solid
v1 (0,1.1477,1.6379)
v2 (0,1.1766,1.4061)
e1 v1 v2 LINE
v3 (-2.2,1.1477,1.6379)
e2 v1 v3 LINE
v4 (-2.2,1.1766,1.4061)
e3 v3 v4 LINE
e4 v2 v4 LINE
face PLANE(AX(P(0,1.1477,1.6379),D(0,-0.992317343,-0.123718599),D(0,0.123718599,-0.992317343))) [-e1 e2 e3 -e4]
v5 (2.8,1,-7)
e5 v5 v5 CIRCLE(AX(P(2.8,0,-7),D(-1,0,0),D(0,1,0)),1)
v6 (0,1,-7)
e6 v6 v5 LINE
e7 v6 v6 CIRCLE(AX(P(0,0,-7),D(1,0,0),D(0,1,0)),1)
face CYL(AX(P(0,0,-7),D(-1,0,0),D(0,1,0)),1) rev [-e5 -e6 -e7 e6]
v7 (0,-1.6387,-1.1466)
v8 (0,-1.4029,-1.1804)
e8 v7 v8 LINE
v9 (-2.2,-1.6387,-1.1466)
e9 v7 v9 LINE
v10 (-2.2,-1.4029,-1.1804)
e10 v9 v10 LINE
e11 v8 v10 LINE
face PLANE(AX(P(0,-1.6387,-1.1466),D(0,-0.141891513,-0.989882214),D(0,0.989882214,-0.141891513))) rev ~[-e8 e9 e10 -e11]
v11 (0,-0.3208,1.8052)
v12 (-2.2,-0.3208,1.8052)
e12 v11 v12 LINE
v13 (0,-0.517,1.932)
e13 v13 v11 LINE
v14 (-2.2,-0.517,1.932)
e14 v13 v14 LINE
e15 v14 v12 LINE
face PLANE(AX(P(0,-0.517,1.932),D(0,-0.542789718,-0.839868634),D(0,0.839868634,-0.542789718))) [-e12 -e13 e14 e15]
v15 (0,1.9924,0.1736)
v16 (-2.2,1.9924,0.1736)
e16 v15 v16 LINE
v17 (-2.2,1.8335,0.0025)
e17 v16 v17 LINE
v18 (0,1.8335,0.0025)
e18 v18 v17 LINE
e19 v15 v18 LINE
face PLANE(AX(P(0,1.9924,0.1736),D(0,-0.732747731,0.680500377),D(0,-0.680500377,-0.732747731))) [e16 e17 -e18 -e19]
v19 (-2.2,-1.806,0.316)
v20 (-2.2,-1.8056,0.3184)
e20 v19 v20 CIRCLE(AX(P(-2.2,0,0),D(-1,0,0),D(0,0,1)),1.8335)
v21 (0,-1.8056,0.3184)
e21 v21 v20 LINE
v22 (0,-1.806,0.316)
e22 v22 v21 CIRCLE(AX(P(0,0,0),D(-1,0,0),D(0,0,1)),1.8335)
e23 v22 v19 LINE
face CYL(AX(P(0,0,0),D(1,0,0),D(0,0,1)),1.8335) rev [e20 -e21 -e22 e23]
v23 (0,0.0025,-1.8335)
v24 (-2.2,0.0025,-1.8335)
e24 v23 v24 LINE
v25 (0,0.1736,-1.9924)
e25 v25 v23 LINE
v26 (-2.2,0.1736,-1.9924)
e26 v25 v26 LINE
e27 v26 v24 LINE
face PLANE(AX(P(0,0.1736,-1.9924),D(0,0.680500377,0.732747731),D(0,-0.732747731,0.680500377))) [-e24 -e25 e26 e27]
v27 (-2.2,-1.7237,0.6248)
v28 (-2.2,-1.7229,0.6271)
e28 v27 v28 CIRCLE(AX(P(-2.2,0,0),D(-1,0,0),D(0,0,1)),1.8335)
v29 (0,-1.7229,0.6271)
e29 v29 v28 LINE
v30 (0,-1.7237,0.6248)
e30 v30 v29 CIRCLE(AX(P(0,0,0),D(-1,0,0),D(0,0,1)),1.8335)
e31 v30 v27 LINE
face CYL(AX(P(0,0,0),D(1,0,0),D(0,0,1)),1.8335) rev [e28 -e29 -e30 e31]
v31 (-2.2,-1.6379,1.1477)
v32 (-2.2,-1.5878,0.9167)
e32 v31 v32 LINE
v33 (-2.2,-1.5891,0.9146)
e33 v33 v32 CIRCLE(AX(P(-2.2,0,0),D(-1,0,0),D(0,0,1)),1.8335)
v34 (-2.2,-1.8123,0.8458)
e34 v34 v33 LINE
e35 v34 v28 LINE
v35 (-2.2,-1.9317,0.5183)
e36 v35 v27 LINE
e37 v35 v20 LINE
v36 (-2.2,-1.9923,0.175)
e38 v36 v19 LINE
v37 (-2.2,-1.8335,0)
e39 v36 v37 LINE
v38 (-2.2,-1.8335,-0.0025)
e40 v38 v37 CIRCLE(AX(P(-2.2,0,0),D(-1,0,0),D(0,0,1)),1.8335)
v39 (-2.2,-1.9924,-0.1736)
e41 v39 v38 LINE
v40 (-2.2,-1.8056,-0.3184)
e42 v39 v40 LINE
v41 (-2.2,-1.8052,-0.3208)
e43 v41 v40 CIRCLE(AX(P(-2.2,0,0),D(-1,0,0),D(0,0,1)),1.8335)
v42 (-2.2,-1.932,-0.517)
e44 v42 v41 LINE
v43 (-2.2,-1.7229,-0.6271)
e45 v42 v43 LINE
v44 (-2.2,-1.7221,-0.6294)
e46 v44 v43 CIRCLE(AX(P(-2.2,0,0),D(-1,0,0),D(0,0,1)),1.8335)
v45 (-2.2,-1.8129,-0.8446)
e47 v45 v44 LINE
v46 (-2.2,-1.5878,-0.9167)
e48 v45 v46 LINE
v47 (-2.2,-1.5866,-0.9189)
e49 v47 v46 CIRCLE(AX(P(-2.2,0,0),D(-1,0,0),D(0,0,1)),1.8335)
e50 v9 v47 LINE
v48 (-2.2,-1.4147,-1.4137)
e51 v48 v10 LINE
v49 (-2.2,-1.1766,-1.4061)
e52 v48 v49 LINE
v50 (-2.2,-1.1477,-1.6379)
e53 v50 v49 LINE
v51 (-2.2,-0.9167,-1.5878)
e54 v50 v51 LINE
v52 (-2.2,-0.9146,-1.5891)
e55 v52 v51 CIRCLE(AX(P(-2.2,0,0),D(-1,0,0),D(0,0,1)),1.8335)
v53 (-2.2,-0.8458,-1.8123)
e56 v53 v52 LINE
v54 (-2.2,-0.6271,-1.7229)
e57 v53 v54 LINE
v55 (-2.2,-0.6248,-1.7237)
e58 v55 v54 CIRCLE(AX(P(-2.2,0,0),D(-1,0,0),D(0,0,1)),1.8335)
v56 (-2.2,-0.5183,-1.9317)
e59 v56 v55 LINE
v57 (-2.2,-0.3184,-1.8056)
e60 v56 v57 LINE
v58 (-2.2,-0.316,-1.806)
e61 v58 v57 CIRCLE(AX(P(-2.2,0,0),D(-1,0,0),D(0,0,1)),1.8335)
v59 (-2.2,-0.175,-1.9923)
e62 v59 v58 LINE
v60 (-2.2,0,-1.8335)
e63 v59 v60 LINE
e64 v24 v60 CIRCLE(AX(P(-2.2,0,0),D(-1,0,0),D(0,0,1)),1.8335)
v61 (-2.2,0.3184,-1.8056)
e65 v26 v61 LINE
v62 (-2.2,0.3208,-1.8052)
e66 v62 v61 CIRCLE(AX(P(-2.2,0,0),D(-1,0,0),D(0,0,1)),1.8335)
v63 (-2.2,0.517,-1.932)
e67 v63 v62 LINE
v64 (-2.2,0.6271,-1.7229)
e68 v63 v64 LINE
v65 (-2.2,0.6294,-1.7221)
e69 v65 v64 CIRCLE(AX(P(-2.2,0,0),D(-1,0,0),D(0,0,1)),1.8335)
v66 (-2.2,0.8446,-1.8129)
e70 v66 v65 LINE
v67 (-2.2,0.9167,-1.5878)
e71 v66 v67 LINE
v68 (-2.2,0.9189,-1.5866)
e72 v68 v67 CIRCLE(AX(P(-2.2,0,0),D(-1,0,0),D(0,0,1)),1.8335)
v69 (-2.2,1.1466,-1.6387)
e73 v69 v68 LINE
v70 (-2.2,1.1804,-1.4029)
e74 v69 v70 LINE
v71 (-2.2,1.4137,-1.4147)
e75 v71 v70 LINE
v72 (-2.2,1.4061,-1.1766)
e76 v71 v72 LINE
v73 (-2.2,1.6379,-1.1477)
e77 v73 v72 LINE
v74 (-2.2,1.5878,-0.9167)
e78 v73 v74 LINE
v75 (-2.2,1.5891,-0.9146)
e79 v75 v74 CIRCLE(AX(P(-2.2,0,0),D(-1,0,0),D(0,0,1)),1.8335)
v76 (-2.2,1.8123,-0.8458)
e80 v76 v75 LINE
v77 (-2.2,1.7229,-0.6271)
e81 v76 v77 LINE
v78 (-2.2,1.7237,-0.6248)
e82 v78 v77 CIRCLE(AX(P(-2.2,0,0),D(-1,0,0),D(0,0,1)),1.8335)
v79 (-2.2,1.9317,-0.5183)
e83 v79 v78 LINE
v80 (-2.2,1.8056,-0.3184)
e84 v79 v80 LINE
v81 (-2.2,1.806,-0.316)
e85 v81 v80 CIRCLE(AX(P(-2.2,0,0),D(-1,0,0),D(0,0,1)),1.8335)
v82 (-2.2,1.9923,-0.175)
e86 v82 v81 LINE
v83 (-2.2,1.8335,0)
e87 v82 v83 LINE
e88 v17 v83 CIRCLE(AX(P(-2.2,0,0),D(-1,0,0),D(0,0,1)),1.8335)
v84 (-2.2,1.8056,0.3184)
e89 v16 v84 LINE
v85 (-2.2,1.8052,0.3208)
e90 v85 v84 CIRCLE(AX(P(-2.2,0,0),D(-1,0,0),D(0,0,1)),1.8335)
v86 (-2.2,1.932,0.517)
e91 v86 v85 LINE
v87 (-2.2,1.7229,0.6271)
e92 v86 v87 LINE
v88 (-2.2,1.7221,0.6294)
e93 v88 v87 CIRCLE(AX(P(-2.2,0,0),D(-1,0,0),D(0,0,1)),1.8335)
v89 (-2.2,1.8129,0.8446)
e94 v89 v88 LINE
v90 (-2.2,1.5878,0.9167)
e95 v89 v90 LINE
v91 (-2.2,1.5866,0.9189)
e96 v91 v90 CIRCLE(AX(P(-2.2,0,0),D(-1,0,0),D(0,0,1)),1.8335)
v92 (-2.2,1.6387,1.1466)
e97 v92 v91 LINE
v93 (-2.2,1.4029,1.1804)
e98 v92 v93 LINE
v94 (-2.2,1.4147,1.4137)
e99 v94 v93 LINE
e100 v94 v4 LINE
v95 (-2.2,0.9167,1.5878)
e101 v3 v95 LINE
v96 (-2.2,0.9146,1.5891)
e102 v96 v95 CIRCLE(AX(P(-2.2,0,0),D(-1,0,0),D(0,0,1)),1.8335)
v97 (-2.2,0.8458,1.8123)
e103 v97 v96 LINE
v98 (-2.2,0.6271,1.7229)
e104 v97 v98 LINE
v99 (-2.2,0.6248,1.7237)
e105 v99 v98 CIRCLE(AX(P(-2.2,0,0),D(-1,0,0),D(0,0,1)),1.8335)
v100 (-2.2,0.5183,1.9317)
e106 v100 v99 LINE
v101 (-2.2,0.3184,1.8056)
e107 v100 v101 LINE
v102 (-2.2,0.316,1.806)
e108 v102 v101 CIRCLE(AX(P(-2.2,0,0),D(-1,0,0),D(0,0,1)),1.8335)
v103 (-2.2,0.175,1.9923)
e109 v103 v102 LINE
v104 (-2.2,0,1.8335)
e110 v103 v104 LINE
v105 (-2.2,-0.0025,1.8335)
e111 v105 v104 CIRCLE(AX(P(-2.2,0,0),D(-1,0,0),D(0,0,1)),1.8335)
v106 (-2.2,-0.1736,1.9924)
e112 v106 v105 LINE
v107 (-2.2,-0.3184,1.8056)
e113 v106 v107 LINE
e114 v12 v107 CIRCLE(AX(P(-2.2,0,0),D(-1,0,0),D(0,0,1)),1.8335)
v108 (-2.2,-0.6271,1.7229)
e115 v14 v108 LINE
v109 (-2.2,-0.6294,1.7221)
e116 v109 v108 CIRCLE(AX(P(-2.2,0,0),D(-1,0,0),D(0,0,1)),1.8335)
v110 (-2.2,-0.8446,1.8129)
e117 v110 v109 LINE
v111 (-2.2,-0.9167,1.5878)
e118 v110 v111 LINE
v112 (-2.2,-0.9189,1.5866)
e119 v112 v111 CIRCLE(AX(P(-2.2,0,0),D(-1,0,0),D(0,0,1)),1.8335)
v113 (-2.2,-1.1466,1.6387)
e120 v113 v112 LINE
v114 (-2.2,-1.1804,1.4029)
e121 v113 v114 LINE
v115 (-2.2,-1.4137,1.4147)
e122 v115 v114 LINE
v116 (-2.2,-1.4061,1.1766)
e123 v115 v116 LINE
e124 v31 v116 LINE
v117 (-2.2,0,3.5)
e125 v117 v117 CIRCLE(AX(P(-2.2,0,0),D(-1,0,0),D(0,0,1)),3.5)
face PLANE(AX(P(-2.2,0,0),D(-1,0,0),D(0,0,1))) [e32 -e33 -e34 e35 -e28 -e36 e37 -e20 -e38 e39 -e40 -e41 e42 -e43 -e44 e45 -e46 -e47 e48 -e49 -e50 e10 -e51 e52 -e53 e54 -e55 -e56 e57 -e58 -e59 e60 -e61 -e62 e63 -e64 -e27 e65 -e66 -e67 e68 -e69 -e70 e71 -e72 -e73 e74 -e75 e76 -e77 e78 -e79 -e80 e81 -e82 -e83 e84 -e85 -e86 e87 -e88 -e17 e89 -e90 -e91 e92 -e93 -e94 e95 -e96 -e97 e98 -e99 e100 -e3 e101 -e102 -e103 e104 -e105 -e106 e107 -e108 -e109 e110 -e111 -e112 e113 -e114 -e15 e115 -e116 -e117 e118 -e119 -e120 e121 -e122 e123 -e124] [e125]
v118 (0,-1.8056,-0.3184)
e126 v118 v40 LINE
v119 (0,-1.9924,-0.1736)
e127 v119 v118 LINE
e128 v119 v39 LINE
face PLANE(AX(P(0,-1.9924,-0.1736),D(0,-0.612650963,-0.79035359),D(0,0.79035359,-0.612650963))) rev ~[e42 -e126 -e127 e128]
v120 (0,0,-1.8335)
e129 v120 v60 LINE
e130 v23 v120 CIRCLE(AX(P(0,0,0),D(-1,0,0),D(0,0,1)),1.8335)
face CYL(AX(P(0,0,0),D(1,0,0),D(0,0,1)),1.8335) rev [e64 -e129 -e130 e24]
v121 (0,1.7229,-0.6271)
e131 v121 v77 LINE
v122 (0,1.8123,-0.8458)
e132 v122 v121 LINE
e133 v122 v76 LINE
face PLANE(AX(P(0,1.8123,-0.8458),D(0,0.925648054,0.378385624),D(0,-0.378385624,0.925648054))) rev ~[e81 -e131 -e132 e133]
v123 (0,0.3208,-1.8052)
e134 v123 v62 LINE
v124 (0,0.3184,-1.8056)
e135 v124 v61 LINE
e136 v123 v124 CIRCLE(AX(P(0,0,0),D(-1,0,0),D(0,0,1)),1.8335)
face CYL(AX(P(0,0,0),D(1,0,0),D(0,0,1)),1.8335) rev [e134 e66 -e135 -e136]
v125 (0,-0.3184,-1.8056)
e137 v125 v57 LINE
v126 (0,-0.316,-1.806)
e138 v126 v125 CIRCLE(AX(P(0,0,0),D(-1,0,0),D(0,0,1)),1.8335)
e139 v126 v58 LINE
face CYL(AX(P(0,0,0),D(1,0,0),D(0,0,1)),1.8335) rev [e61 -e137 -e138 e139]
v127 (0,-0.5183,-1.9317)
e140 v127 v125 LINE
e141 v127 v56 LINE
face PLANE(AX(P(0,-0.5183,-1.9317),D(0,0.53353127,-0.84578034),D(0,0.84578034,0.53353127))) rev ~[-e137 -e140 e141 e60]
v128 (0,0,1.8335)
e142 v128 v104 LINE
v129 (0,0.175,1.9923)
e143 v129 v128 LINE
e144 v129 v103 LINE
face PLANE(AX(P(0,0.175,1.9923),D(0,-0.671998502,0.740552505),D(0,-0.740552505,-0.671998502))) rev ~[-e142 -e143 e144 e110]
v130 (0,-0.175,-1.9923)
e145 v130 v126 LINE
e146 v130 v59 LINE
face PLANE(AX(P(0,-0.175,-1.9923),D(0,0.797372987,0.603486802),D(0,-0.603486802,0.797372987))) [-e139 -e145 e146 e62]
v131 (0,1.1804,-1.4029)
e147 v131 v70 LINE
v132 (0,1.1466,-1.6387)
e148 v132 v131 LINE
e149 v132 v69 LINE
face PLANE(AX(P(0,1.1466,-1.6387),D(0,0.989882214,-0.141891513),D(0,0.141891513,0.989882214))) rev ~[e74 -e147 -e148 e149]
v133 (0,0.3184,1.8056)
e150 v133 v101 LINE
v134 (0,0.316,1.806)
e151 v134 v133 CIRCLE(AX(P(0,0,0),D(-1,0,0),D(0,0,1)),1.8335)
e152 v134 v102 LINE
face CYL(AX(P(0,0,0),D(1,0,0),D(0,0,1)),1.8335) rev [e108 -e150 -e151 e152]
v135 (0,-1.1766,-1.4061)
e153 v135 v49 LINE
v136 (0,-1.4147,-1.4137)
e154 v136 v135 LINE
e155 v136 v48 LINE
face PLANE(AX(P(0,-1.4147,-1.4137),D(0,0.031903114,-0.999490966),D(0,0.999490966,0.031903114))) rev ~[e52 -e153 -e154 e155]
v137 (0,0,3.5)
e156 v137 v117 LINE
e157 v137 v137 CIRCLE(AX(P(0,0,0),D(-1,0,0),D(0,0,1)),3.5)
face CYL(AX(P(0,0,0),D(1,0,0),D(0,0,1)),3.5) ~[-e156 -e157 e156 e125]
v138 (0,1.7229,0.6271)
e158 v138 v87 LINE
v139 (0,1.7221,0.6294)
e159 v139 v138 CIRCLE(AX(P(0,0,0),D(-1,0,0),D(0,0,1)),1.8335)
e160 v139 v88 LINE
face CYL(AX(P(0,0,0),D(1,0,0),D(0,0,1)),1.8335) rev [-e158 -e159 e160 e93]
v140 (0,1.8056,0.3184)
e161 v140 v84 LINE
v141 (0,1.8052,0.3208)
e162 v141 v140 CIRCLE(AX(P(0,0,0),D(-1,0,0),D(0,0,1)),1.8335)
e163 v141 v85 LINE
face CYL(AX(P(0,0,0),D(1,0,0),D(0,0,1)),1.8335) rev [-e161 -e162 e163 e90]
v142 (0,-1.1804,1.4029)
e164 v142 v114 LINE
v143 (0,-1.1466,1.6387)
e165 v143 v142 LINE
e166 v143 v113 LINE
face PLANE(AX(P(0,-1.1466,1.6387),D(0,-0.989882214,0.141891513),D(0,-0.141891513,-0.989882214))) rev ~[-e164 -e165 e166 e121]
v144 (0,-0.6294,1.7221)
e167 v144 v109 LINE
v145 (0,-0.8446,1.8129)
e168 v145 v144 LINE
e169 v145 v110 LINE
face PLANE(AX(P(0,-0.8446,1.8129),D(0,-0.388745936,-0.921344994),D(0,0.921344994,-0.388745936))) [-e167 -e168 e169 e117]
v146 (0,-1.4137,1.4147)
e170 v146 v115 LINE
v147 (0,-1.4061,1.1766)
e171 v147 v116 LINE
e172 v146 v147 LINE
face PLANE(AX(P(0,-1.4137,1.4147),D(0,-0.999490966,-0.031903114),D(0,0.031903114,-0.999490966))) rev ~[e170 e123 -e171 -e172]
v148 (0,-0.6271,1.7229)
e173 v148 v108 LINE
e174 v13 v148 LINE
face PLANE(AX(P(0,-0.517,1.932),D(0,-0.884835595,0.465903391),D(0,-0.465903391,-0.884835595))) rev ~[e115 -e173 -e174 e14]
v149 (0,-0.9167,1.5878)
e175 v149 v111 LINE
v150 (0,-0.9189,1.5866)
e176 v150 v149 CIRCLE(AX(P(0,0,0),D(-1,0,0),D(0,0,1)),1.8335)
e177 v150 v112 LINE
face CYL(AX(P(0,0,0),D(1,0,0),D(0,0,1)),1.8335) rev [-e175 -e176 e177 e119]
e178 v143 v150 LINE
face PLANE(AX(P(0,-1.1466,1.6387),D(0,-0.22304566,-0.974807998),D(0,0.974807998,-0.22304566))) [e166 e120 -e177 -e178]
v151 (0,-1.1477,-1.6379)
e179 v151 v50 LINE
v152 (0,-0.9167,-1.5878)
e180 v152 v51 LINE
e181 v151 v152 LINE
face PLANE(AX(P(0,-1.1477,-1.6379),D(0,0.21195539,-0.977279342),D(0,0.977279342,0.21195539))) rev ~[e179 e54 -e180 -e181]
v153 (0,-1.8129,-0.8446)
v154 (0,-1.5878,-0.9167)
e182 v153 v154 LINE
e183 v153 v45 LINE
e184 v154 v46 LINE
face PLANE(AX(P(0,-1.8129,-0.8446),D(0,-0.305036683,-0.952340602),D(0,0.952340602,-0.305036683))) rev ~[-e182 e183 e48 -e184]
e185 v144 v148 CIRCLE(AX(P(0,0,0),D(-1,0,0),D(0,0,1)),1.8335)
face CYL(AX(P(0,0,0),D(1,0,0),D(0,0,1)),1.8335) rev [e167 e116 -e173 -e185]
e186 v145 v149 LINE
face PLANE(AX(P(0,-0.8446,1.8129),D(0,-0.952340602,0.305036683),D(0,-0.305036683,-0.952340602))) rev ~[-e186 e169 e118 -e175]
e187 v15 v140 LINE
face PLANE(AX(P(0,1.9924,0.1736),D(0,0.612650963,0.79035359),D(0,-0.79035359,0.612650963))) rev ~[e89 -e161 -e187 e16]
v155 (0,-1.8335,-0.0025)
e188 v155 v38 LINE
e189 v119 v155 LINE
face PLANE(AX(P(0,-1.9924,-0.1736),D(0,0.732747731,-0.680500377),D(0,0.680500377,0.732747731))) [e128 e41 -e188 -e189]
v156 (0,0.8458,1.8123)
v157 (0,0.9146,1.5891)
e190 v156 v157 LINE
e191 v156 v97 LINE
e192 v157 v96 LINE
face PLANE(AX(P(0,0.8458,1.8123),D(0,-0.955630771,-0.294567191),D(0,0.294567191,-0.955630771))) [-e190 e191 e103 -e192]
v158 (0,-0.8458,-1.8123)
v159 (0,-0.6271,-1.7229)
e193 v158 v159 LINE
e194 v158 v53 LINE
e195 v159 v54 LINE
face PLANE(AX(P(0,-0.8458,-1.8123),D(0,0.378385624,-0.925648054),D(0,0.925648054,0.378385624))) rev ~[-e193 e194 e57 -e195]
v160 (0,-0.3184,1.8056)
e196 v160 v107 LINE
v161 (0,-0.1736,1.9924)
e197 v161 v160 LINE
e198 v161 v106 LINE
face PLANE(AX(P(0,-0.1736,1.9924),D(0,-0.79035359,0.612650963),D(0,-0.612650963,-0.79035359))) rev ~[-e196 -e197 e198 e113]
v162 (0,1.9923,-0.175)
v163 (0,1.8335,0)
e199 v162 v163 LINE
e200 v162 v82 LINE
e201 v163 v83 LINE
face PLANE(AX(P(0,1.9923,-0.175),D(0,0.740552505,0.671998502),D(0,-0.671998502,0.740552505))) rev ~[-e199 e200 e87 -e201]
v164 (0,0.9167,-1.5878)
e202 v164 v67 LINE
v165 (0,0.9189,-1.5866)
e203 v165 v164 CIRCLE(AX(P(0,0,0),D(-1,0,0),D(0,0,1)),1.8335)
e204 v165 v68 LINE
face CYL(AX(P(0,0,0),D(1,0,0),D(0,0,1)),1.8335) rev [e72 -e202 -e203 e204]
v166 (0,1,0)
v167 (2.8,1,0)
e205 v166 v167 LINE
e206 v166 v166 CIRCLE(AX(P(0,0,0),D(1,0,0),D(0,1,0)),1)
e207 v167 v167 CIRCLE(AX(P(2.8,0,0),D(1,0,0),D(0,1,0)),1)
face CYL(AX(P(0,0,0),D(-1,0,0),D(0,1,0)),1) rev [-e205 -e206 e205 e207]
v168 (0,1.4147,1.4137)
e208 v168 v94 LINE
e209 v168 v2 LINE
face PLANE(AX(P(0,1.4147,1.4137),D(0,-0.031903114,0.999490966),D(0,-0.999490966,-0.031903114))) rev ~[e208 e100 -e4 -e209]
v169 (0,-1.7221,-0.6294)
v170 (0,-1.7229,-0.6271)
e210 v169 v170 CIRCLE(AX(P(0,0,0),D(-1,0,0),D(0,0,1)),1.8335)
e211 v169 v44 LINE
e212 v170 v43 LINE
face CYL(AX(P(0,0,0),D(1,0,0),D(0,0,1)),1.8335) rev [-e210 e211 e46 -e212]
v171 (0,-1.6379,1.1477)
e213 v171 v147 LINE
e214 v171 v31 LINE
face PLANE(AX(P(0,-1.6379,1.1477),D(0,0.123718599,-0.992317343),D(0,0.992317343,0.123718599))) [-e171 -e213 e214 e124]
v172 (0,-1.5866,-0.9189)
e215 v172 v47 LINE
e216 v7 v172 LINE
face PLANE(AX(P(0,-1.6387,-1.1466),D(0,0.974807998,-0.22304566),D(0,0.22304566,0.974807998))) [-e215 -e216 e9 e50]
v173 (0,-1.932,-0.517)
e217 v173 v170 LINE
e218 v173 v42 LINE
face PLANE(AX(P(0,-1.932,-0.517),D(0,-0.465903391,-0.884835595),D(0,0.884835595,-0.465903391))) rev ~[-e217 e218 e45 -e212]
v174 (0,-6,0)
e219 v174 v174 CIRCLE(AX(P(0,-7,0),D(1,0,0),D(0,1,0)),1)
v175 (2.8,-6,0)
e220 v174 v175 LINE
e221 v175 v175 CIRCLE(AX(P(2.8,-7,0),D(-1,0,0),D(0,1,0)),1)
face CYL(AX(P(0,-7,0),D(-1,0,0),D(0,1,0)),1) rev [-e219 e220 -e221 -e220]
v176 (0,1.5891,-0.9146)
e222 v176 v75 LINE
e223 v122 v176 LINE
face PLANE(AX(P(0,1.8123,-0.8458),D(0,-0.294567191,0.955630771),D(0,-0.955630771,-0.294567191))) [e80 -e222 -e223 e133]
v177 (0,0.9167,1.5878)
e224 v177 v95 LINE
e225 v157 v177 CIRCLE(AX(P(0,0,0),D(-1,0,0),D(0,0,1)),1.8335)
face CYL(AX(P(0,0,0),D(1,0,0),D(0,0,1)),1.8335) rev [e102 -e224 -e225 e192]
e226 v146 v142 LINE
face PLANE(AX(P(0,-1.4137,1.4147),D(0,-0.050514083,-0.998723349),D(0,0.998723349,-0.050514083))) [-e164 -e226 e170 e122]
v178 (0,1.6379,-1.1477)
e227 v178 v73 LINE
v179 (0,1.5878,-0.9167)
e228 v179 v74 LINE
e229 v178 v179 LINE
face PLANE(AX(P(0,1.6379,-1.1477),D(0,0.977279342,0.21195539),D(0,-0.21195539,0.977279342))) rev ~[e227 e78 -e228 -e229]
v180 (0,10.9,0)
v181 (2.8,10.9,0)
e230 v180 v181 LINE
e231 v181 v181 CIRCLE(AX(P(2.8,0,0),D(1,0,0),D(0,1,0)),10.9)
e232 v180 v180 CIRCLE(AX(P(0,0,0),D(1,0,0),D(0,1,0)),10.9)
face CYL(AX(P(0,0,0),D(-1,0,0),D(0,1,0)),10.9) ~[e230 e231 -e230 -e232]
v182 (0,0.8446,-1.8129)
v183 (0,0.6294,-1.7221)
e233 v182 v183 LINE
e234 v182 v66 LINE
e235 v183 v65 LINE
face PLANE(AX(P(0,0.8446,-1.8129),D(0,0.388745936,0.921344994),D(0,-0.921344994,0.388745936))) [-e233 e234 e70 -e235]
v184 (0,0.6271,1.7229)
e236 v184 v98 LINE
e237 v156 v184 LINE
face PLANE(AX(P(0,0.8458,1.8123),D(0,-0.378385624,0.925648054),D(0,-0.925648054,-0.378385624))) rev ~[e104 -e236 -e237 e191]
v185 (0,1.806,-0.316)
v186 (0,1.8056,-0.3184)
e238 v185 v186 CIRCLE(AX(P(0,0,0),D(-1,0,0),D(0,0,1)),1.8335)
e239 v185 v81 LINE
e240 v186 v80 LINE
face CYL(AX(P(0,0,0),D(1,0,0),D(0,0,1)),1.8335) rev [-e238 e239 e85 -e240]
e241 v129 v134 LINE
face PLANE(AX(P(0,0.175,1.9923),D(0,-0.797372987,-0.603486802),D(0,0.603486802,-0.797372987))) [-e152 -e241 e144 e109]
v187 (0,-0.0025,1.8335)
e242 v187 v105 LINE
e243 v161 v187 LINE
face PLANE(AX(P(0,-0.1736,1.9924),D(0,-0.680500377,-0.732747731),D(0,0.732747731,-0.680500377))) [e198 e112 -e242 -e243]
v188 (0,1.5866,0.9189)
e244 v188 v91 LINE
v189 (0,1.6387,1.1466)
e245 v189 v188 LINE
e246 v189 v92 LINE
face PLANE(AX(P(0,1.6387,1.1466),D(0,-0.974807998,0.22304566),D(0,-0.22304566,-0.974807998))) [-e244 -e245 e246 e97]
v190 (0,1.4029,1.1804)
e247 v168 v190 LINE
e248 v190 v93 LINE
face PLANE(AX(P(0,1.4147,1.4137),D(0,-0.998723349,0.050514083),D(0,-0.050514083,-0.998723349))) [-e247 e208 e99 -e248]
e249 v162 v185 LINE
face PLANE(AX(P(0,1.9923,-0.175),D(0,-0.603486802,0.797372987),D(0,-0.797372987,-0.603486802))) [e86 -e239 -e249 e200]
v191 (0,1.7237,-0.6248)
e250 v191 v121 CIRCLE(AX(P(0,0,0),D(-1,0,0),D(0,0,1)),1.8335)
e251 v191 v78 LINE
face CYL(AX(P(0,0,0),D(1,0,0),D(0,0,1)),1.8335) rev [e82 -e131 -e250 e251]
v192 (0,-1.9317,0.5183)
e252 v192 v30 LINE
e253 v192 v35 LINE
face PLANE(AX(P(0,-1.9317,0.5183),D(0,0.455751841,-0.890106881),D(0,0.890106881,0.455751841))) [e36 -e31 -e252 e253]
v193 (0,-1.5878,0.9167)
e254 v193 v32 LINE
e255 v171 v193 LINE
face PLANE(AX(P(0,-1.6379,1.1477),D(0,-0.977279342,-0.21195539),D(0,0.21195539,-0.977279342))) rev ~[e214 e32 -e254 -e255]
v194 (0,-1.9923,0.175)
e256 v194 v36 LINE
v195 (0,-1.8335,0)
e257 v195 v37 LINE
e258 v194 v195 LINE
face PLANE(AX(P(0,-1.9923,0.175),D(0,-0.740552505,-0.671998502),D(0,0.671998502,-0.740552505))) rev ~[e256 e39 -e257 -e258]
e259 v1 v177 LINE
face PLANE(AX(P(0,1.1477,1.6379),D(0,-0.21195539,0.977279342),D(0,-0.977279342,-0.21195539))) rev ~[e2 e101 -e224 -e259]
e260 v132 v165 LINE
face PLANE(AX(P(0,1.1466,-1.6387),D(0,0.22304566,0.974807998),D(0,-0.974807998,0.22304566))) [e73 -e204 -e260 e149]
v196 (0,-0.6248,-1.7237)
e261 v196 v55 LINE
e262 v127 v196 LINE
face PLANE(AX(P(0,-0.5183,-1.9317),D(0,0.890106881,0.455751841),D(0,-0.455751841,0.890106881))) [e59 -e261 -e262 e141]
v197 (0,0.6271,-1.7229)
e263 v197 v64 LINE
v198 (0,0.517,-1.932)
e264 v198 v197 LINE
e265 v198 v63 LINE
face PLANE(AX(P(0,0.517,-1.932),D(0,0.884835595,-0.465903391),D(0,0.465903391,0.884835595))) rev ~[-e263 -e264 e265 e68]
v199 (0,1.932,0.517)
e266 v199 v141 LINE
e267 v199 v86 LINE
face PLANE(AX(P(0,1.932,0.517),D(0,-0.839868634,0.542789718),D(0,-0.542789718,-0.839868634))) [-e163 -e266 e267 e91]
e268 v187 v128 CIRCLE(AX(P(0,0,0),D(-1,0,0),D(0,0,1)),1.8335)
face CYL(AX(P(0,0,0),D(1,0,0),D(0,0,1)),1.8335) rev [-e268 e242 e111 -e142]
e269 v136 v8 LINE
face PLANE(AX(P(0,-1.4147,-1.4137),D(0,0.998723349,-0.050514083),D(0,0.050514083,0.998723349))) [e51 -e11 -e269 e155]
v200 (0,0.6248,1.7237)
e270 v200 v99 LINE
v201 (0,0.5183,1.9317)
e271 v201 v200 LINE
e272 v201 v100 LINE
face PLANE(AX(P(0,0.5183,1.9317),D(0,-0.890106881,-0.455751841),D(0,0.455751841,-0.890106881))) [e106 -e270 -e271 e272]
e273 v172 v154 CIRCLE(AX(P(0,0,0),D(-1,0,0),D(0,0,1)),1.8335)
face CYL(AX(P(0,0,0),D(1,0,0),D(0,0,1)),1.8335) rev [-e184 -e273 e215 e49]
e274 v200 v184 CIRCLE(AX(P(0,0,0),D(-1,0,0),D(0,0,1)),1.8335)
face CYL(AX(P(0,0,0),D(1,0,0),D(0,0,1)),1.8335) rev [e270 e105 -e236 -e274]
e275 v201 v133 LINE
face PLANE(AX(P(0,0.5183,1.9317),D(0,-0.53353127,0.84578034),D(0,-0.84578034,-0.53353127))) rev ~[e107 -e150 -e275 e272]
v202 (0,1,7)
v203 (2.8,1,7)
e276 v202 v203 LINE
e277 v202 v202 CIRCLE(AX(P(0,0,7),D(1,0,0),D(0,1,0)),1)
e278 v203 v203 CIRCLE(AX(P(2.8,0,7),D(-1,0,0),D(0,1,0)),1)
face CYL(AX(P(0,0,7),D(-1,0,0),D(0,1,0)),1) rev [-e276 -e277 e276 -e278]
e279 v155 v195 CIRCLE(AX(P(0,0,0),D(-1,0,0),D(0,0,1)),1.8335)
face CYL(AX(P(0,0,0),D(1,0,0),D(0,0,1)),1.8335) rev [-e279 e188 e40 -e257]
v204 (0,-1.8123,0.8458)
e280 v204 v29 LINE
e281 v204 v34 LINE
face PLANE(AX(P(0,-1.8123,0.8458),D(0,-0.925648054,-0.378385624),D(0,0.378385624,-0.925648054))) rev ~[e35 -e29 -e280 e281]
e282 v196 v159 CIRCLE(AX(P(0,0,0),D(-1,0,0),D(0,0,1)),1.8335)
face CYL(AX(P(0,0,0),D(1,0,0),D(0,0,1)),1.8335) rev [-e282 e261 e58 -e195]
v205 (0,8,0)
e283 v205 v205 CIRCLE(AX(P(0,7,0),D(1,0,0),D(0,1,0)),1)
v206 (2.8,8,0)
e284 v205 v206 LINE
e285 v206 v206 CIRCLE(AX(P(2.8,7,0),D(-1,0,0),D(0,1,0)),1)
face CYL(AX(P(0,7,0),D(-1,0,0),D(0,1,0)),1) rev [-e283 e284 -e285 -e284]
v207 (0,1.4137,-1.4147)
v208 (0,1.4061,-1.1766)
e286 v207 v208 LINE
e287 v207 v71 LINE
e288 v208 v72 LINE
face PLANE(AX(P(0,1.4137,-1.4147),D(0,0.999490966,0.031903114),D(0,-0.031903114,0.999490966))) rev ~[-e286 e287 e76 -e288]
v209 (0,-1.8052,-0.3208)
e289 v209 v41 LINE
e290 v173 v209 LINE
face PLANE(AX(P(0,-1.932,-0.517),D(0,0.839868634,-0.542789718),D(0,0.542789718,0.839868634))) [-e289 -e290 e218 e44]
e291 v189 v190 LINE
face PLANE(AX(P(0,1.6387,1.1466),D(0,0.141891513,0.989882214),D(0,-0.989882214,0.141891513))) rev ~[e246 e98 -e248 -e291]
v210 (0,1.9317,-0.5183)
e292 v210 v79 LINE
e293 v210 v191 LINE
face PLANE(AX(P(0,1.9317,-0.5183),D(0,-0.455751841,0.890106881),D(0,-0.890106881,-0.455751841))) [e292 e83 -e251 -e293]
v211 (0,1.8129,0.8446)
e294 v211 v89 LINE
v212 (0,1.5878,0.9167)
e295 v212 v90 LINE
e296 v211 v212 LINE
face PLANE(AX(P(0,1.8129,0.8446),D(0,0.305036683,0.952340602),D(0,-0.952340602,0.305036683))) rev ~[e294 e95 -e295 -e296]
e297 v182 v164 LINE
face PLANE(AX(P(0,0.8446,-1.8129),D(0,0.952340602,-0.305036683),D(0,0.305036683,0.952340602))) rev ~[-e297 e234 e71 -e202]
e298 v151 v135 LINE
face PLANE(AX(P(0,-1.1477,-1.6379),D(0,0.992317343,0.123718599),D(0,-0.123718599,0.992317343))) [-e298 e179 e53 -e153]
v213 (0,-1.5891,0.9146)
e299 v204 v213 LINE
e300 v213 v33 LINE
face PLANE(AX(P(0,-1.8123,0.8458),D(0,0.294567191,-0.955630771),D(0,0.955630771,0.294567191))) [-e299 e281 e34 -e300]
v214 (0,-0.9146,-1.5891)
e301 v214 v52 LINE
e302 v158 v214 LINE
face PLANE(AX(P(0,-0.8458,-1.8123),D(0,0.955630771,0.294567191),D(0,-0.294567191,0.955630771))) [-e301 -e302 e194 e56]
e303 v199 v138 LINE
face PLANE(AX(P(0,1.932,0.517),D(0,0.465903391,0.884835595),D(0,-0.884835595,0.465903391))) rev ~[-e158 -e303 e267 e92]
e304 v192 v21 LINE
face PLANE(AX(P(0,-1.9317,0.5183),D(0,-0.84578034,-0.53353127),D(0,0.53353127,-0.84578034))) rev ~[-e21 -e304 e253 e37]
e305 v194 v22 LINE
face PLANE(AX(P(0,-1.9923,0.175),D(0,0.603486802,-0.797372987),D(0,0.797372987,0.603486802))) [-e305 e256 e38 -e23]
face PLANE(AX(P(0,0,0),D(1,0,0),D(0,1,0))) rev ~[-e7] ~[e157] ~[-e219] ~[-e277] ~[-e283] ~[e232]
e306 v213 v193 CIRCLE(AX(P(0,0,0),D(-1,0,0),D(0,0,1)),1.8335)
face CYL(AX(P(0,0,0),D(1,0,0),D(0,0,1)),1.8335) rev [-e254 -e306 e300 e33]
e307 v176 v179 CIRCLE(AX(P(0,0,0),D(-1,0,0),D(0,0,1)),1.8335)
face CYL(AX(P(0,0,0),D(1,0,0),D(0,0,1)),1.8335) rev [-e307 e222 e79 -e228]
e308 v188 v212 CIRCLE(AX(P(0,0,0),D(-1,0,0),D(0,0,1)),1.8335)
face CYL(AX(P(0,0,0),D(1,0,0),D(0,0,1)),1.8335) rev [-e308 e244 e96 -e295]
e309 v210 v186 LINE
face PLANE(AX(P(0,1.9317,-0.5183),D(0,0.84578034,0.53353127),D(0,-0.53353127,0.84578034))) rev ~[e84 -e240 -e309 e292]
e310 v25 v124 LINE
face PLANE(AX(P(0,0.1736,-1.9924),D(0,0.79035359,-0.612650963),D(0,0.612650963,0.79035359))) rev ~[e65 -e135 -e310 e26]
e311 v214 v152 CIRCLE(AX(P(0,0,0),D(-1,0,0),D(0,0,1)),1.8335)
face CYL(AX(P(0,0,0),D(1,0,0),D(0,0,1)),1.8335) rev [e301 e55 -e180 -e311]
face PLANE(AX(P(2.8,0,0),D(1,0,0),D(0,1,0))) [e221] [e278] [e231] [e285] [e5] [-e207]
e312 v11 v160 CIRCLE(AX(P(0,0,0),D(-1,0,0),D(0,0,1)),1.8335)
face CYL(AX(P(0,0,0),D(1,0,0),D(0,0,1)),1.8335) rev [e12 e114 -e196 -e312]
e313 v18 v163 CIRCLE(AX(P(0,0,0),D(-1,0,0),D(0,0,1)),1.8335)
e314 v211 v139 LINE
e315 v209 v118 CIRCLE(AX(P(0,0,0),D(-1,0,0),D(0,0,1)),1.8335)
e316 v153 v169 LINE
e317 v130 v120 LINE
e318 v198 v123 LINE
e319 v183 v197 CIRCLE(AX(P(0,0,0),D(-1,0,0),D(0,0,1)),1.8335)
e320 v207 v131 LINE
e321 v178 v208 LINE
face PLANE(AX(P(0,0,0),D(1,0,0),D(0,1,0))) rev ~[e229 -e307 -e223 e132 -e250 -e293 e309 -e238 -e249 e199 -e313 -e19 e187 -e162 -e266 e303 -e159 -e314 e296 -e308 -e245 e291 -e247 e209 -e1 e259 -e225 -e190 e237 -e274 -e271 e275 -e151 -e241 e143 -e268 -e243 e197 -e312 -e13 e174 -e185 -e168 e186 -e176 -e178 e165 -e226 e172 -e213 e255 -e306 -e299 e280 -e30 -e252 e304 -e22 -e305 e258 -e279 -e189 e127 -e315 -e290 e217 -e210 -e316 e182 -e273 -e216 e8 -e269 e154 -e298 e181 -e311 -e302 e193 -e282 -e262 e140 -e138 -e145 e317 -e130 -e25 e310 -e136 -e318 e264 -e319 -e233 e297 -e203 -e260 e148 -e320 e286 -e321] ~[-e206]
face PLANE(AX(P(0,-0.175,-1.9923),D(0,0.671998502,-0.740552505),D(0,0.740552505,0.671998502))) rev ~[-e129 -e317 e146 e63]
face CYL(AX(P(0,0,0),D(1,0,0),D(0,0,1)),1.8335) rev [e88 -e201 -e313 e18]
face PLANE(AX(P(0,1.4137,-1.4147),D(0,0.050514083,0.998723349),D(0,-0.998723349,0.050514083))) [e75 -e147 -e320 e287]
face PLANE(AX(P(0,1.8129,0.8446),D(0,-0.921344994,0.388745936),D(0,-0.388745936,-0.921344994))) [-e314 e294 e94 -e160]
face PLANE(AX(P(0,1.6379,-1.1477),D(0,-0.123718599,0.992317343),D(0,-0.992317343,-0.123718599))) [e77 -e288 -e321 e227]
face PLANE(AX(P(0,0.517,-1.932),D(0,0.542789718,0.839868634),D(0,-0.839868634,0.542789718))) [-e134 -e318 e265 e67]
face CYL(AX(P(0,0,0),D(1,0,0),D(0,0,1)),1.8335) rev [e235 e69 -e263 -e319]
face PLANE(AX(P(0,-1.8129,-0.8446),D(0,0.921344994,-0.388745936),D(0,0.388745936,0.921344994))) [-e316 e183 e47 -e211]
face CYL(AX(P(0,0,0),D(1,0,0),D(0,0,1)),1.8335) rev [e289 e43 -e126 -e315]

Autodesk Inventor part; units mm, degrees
ref_plane "YZ Plane" through (0, 0, 0) normal (1, 0, 0) x (0, 1, 0)
ref_plane "XZ Plane" through (0, 0, 0) normal (0, 1, 0) x (-1, 0, 0)
ref_plane "XY Plane" through (0, 0, 0) normal (0, 0, 1) x (1, 0, 0)
sketch "Sketch1" plane through (0, 0, 0) normal (1, 0, 0) x (0, 1, 0)
  circle A0 centre (0, 0) radius 10.9
  circle A1 centre (0, 0) radius 1
  circle A2 centre (0, 0) radius 7
  circle A3 centre (7, 0) radius 1
  circle A4 centre (0, 7) radius 1
  circle A5 centre (-7, 0) radius 1
  circle A6 centre (0, -7) radius 1
  dimension "d2" = 14
  dimension "d0" = 21.8
  dimension "d1" = 2
  dimension "d3" = 2
  dimension "d6" = 360
extrude "Extrusion1" add sketch "Sketch1" along normal blind 2.8 contours A0 | A3 A2 A6 A5 A4
sketch "Sketch2" plane through (0, 0, 0) normal (-1, 0, 0) x (0, 0, 1)
  circle A0 centre (0, 0) radius 3.5
  line L0 (-0.0024, 0.0008) -> (1.8342, 0.0008) construction
  line L1 (0, 0) -> (2, 0) construction
  circle A1 centre (0, 0) radius 1.8335
  line L2 (-0.517, -1.932) -> (-0.6271, -1.7229)
  line L3 (-0.517, -1.932) -> (-0.3208, -1.8052)
  line L4 (-0.1736, -1.9924) -> (-0.3184, -1.8056)
  line L5 (-0.1736, -1.9924) -> (-0.0025, -1.8335)
  line L6 (0.175, -1.9923) -> (0, -1.8335)
  line L7 (0.175, -1.9923) -> (0.316, -1.806)
  line L8 (0.5183, -1.9317) -> (0.3184, -1.8056)
  line L9 (0.5183, -1.9317) -> (0.6248, -1.7237)
  line L10 (0.8458, -1.8123) -> (0.6271, -1.7229)
  line L11 (0.8458, -1.8123) -> (0.9146, -1.5891)
  line L12 (1.1477, -1.6379) -> (0.9167, -1.5878)
  line L13 (1.1477, -1.6379) -> (1.1766, -1.4061)
  line L14 (1.4147, -1.4137) -> (1.1785, -1.4045)
  line L15 (1.4147, -1.4137) -> (1.4029, -1.1804)
  line L16 (1.6387, -1.1466) -> (1.4045, -1.1785)
  line L17 (1.6387, -1.1466) -> (1.5866, -0.9189)
  line L18 (1.8129, -0.8446) -> (1.5878, -0.9167)
  line L19 (1.8129, -0.8446) -> (1.7221, -0.6294)
  line L20 (1.932, -0.517) -> (1.7229, -0.6271)
  line L21 (1.932, -0.517) -> (1.8052, -0.3208)
  line L22 (1.9924, -0.1736) -> (1.8056, -0.3184)
  line L23 (1.9924, -0.1736) -> (1.8335, -0.0025)
  line L24 (1.9923, 0.175) -> (1.8335, 0)
  line L25 (1.9923, 0.175) -> (1.806, 0.316)
  line L26 (1.9317, 0.5183) -> (1.8056, 0.3184)
  line L27 (1.9317, 0.5183) -> (1.7237, 0.6248)
  line L28 (1.8123, 0.8458) -> (1.7229, 0.6271)
  line L29 (1.8123, 0.8458) -> (1.5891, 0.9146)
  line L30 (1.6379, 1.1477) -> (1.5878, 0.9167)
  line L31 (1.6379, 1.1477) -> (1.4061, 1.1766)
  line L32 (1.4137, 1.4147) -> (1.4045, 1.1785)
  line L33 (1.4137, 1.4147) -> (1.1804, 1.4029)
  line L34 (1.1466, 1.6387) -> (1.1785, 1.4045)
  line L35 (1.1466, 1.6387) -> (0.9189, 1.5866)
  line L36 (0.8446, 1.8129) -> (0.9167, 1.5878)
  line L37 (0.8446, 1.8129) -> (0.6294, 1.7221)
  line L38 (0.517, 1.932) -> (0.6271, 1.7229)
  line L39 (0.517, 1.932) -> (0.3208, 1.8052)
  line L40 (0.1736, 1.9924) -> (0.3184, 1.8056)
  line L41 (0.1736, 1.9924) -> (0.0025, 1.8335)
  line L42 (-0.175, 1.9923) -> (0, 1.8335)
  line L43 (-0.175, 1.9923) -> (-0.316, 1.806)
  line L44 (-0.5183, 1.9317) -> (-0.3184, 1.8056)
  line L45 (-0.5183, 1.9317) -> (-0.6248, 1.7237)
  line L46 (-0.8458, 1.8123) -> (-0.6271, 1.7229)
  line L47 (-0.8458, 1.8123) -> (-0.9146, 1.5891)
  line L48 (-1.1477, 1.6379) -> (-0.9167, 1.5878)
  line L49 (-1.1477, 1.6379) -> (-1.1766, 1.4061)
  line L50 (-1.4147, 1.4137) -> (-1.1785, 1.4045)
  line L51 (-1.4147, 1.4137) -> (-1.4029, 1.1804)
  line L52 (-1.6387, 1.1466) -> (-1.4045, 1.1785)
  line L53 (-1.6387, 1.1466) -> (-1.5866, 0.9189)
  line L54 (-1.8129, 0.8446) -> (-1.5878, 0.9167)
  line L55 (-1.8129, 0.8446) -> (-1.7221, 0.6294)
  line L56 (-1.932, 0.517) -> (-1.7229, 0.6271)
  line L57 (-1.932, 0.517) -> (-1.8052, 0.3208)
  line L58 (-1.9924, 0.1736) -> (-1.8056, 0.3184)
  line L59 (-1.9924, 0.1736) -> (-1.8335, 0.0025)
  line L60 (-1.9923, -0.175) -> (-1.8335, 0)
  line L61 (-1.9923, -0.175) -> (-1.806, -0.316)
  line L62 (-1.9317, -0.5183) -> (-1.8056, -0.3184)
  line L63 (-1.9317, -0.5183) -> (-1.7237, -0.6248)
  line L64 (-1.8123, -0.8458) -> (-1.7229, -0.6271)
  line L65 (-1.8123, -0.8458) -> (-1.5891, -0.9146)
  line L66 (-1.6379, -1.1477) -> (-1.5878, -0.9167)
  line L67 (-1.6379, -1.1477) -> (-1.4061, -1.1766)
  line L68 (-1.4137, -1.4147) -> (-1.4045, -1.1785)
  line L69 (-1.4137, -1.4147) -> (-1.1804, -1.4029)
  line L70 (-1.1466, -1.6387) -> (-1.1785, -1.4045)
  line L71 (-1.1466, -1.6387) -> (-0.9189, -1.5866)
  line L72 (-0.8446, -1.8129) -> (-0.9167, -1.5878)
  line L73 (-0.8446, -1.8129) -> (-0.6294, -1.7221)
  arc A2 (2, 0) -> (1.9998, 0.0261) centre (0, 0) ccw
  point P0 (1.8335, 0)
  dimension "d10" = 7
  dimension "d13" = 360
extrude "Extrusion2" add sketch "Sketch2" along normal blind 2.2
thread "Thread1" size "M2x0.4" class "6H" standard "ANSI Metric M Profile" length 5
thread "Thread2" size "M2x0.4" class "6H" standard "ANSI Metric M Profile" length 5
thread "Thread3" size "M2x0.4" class "6H" standard "ANSI Metric M Profile" length 5
thread "Thread4" size "M2x0.4" class "6H" standard "ANSI Metric M Profile" length 5
thread "Thread5" size "M2x0.4" class "6H" standard "ANSI Metric M Profile" length 5
properties part number "Part R"
